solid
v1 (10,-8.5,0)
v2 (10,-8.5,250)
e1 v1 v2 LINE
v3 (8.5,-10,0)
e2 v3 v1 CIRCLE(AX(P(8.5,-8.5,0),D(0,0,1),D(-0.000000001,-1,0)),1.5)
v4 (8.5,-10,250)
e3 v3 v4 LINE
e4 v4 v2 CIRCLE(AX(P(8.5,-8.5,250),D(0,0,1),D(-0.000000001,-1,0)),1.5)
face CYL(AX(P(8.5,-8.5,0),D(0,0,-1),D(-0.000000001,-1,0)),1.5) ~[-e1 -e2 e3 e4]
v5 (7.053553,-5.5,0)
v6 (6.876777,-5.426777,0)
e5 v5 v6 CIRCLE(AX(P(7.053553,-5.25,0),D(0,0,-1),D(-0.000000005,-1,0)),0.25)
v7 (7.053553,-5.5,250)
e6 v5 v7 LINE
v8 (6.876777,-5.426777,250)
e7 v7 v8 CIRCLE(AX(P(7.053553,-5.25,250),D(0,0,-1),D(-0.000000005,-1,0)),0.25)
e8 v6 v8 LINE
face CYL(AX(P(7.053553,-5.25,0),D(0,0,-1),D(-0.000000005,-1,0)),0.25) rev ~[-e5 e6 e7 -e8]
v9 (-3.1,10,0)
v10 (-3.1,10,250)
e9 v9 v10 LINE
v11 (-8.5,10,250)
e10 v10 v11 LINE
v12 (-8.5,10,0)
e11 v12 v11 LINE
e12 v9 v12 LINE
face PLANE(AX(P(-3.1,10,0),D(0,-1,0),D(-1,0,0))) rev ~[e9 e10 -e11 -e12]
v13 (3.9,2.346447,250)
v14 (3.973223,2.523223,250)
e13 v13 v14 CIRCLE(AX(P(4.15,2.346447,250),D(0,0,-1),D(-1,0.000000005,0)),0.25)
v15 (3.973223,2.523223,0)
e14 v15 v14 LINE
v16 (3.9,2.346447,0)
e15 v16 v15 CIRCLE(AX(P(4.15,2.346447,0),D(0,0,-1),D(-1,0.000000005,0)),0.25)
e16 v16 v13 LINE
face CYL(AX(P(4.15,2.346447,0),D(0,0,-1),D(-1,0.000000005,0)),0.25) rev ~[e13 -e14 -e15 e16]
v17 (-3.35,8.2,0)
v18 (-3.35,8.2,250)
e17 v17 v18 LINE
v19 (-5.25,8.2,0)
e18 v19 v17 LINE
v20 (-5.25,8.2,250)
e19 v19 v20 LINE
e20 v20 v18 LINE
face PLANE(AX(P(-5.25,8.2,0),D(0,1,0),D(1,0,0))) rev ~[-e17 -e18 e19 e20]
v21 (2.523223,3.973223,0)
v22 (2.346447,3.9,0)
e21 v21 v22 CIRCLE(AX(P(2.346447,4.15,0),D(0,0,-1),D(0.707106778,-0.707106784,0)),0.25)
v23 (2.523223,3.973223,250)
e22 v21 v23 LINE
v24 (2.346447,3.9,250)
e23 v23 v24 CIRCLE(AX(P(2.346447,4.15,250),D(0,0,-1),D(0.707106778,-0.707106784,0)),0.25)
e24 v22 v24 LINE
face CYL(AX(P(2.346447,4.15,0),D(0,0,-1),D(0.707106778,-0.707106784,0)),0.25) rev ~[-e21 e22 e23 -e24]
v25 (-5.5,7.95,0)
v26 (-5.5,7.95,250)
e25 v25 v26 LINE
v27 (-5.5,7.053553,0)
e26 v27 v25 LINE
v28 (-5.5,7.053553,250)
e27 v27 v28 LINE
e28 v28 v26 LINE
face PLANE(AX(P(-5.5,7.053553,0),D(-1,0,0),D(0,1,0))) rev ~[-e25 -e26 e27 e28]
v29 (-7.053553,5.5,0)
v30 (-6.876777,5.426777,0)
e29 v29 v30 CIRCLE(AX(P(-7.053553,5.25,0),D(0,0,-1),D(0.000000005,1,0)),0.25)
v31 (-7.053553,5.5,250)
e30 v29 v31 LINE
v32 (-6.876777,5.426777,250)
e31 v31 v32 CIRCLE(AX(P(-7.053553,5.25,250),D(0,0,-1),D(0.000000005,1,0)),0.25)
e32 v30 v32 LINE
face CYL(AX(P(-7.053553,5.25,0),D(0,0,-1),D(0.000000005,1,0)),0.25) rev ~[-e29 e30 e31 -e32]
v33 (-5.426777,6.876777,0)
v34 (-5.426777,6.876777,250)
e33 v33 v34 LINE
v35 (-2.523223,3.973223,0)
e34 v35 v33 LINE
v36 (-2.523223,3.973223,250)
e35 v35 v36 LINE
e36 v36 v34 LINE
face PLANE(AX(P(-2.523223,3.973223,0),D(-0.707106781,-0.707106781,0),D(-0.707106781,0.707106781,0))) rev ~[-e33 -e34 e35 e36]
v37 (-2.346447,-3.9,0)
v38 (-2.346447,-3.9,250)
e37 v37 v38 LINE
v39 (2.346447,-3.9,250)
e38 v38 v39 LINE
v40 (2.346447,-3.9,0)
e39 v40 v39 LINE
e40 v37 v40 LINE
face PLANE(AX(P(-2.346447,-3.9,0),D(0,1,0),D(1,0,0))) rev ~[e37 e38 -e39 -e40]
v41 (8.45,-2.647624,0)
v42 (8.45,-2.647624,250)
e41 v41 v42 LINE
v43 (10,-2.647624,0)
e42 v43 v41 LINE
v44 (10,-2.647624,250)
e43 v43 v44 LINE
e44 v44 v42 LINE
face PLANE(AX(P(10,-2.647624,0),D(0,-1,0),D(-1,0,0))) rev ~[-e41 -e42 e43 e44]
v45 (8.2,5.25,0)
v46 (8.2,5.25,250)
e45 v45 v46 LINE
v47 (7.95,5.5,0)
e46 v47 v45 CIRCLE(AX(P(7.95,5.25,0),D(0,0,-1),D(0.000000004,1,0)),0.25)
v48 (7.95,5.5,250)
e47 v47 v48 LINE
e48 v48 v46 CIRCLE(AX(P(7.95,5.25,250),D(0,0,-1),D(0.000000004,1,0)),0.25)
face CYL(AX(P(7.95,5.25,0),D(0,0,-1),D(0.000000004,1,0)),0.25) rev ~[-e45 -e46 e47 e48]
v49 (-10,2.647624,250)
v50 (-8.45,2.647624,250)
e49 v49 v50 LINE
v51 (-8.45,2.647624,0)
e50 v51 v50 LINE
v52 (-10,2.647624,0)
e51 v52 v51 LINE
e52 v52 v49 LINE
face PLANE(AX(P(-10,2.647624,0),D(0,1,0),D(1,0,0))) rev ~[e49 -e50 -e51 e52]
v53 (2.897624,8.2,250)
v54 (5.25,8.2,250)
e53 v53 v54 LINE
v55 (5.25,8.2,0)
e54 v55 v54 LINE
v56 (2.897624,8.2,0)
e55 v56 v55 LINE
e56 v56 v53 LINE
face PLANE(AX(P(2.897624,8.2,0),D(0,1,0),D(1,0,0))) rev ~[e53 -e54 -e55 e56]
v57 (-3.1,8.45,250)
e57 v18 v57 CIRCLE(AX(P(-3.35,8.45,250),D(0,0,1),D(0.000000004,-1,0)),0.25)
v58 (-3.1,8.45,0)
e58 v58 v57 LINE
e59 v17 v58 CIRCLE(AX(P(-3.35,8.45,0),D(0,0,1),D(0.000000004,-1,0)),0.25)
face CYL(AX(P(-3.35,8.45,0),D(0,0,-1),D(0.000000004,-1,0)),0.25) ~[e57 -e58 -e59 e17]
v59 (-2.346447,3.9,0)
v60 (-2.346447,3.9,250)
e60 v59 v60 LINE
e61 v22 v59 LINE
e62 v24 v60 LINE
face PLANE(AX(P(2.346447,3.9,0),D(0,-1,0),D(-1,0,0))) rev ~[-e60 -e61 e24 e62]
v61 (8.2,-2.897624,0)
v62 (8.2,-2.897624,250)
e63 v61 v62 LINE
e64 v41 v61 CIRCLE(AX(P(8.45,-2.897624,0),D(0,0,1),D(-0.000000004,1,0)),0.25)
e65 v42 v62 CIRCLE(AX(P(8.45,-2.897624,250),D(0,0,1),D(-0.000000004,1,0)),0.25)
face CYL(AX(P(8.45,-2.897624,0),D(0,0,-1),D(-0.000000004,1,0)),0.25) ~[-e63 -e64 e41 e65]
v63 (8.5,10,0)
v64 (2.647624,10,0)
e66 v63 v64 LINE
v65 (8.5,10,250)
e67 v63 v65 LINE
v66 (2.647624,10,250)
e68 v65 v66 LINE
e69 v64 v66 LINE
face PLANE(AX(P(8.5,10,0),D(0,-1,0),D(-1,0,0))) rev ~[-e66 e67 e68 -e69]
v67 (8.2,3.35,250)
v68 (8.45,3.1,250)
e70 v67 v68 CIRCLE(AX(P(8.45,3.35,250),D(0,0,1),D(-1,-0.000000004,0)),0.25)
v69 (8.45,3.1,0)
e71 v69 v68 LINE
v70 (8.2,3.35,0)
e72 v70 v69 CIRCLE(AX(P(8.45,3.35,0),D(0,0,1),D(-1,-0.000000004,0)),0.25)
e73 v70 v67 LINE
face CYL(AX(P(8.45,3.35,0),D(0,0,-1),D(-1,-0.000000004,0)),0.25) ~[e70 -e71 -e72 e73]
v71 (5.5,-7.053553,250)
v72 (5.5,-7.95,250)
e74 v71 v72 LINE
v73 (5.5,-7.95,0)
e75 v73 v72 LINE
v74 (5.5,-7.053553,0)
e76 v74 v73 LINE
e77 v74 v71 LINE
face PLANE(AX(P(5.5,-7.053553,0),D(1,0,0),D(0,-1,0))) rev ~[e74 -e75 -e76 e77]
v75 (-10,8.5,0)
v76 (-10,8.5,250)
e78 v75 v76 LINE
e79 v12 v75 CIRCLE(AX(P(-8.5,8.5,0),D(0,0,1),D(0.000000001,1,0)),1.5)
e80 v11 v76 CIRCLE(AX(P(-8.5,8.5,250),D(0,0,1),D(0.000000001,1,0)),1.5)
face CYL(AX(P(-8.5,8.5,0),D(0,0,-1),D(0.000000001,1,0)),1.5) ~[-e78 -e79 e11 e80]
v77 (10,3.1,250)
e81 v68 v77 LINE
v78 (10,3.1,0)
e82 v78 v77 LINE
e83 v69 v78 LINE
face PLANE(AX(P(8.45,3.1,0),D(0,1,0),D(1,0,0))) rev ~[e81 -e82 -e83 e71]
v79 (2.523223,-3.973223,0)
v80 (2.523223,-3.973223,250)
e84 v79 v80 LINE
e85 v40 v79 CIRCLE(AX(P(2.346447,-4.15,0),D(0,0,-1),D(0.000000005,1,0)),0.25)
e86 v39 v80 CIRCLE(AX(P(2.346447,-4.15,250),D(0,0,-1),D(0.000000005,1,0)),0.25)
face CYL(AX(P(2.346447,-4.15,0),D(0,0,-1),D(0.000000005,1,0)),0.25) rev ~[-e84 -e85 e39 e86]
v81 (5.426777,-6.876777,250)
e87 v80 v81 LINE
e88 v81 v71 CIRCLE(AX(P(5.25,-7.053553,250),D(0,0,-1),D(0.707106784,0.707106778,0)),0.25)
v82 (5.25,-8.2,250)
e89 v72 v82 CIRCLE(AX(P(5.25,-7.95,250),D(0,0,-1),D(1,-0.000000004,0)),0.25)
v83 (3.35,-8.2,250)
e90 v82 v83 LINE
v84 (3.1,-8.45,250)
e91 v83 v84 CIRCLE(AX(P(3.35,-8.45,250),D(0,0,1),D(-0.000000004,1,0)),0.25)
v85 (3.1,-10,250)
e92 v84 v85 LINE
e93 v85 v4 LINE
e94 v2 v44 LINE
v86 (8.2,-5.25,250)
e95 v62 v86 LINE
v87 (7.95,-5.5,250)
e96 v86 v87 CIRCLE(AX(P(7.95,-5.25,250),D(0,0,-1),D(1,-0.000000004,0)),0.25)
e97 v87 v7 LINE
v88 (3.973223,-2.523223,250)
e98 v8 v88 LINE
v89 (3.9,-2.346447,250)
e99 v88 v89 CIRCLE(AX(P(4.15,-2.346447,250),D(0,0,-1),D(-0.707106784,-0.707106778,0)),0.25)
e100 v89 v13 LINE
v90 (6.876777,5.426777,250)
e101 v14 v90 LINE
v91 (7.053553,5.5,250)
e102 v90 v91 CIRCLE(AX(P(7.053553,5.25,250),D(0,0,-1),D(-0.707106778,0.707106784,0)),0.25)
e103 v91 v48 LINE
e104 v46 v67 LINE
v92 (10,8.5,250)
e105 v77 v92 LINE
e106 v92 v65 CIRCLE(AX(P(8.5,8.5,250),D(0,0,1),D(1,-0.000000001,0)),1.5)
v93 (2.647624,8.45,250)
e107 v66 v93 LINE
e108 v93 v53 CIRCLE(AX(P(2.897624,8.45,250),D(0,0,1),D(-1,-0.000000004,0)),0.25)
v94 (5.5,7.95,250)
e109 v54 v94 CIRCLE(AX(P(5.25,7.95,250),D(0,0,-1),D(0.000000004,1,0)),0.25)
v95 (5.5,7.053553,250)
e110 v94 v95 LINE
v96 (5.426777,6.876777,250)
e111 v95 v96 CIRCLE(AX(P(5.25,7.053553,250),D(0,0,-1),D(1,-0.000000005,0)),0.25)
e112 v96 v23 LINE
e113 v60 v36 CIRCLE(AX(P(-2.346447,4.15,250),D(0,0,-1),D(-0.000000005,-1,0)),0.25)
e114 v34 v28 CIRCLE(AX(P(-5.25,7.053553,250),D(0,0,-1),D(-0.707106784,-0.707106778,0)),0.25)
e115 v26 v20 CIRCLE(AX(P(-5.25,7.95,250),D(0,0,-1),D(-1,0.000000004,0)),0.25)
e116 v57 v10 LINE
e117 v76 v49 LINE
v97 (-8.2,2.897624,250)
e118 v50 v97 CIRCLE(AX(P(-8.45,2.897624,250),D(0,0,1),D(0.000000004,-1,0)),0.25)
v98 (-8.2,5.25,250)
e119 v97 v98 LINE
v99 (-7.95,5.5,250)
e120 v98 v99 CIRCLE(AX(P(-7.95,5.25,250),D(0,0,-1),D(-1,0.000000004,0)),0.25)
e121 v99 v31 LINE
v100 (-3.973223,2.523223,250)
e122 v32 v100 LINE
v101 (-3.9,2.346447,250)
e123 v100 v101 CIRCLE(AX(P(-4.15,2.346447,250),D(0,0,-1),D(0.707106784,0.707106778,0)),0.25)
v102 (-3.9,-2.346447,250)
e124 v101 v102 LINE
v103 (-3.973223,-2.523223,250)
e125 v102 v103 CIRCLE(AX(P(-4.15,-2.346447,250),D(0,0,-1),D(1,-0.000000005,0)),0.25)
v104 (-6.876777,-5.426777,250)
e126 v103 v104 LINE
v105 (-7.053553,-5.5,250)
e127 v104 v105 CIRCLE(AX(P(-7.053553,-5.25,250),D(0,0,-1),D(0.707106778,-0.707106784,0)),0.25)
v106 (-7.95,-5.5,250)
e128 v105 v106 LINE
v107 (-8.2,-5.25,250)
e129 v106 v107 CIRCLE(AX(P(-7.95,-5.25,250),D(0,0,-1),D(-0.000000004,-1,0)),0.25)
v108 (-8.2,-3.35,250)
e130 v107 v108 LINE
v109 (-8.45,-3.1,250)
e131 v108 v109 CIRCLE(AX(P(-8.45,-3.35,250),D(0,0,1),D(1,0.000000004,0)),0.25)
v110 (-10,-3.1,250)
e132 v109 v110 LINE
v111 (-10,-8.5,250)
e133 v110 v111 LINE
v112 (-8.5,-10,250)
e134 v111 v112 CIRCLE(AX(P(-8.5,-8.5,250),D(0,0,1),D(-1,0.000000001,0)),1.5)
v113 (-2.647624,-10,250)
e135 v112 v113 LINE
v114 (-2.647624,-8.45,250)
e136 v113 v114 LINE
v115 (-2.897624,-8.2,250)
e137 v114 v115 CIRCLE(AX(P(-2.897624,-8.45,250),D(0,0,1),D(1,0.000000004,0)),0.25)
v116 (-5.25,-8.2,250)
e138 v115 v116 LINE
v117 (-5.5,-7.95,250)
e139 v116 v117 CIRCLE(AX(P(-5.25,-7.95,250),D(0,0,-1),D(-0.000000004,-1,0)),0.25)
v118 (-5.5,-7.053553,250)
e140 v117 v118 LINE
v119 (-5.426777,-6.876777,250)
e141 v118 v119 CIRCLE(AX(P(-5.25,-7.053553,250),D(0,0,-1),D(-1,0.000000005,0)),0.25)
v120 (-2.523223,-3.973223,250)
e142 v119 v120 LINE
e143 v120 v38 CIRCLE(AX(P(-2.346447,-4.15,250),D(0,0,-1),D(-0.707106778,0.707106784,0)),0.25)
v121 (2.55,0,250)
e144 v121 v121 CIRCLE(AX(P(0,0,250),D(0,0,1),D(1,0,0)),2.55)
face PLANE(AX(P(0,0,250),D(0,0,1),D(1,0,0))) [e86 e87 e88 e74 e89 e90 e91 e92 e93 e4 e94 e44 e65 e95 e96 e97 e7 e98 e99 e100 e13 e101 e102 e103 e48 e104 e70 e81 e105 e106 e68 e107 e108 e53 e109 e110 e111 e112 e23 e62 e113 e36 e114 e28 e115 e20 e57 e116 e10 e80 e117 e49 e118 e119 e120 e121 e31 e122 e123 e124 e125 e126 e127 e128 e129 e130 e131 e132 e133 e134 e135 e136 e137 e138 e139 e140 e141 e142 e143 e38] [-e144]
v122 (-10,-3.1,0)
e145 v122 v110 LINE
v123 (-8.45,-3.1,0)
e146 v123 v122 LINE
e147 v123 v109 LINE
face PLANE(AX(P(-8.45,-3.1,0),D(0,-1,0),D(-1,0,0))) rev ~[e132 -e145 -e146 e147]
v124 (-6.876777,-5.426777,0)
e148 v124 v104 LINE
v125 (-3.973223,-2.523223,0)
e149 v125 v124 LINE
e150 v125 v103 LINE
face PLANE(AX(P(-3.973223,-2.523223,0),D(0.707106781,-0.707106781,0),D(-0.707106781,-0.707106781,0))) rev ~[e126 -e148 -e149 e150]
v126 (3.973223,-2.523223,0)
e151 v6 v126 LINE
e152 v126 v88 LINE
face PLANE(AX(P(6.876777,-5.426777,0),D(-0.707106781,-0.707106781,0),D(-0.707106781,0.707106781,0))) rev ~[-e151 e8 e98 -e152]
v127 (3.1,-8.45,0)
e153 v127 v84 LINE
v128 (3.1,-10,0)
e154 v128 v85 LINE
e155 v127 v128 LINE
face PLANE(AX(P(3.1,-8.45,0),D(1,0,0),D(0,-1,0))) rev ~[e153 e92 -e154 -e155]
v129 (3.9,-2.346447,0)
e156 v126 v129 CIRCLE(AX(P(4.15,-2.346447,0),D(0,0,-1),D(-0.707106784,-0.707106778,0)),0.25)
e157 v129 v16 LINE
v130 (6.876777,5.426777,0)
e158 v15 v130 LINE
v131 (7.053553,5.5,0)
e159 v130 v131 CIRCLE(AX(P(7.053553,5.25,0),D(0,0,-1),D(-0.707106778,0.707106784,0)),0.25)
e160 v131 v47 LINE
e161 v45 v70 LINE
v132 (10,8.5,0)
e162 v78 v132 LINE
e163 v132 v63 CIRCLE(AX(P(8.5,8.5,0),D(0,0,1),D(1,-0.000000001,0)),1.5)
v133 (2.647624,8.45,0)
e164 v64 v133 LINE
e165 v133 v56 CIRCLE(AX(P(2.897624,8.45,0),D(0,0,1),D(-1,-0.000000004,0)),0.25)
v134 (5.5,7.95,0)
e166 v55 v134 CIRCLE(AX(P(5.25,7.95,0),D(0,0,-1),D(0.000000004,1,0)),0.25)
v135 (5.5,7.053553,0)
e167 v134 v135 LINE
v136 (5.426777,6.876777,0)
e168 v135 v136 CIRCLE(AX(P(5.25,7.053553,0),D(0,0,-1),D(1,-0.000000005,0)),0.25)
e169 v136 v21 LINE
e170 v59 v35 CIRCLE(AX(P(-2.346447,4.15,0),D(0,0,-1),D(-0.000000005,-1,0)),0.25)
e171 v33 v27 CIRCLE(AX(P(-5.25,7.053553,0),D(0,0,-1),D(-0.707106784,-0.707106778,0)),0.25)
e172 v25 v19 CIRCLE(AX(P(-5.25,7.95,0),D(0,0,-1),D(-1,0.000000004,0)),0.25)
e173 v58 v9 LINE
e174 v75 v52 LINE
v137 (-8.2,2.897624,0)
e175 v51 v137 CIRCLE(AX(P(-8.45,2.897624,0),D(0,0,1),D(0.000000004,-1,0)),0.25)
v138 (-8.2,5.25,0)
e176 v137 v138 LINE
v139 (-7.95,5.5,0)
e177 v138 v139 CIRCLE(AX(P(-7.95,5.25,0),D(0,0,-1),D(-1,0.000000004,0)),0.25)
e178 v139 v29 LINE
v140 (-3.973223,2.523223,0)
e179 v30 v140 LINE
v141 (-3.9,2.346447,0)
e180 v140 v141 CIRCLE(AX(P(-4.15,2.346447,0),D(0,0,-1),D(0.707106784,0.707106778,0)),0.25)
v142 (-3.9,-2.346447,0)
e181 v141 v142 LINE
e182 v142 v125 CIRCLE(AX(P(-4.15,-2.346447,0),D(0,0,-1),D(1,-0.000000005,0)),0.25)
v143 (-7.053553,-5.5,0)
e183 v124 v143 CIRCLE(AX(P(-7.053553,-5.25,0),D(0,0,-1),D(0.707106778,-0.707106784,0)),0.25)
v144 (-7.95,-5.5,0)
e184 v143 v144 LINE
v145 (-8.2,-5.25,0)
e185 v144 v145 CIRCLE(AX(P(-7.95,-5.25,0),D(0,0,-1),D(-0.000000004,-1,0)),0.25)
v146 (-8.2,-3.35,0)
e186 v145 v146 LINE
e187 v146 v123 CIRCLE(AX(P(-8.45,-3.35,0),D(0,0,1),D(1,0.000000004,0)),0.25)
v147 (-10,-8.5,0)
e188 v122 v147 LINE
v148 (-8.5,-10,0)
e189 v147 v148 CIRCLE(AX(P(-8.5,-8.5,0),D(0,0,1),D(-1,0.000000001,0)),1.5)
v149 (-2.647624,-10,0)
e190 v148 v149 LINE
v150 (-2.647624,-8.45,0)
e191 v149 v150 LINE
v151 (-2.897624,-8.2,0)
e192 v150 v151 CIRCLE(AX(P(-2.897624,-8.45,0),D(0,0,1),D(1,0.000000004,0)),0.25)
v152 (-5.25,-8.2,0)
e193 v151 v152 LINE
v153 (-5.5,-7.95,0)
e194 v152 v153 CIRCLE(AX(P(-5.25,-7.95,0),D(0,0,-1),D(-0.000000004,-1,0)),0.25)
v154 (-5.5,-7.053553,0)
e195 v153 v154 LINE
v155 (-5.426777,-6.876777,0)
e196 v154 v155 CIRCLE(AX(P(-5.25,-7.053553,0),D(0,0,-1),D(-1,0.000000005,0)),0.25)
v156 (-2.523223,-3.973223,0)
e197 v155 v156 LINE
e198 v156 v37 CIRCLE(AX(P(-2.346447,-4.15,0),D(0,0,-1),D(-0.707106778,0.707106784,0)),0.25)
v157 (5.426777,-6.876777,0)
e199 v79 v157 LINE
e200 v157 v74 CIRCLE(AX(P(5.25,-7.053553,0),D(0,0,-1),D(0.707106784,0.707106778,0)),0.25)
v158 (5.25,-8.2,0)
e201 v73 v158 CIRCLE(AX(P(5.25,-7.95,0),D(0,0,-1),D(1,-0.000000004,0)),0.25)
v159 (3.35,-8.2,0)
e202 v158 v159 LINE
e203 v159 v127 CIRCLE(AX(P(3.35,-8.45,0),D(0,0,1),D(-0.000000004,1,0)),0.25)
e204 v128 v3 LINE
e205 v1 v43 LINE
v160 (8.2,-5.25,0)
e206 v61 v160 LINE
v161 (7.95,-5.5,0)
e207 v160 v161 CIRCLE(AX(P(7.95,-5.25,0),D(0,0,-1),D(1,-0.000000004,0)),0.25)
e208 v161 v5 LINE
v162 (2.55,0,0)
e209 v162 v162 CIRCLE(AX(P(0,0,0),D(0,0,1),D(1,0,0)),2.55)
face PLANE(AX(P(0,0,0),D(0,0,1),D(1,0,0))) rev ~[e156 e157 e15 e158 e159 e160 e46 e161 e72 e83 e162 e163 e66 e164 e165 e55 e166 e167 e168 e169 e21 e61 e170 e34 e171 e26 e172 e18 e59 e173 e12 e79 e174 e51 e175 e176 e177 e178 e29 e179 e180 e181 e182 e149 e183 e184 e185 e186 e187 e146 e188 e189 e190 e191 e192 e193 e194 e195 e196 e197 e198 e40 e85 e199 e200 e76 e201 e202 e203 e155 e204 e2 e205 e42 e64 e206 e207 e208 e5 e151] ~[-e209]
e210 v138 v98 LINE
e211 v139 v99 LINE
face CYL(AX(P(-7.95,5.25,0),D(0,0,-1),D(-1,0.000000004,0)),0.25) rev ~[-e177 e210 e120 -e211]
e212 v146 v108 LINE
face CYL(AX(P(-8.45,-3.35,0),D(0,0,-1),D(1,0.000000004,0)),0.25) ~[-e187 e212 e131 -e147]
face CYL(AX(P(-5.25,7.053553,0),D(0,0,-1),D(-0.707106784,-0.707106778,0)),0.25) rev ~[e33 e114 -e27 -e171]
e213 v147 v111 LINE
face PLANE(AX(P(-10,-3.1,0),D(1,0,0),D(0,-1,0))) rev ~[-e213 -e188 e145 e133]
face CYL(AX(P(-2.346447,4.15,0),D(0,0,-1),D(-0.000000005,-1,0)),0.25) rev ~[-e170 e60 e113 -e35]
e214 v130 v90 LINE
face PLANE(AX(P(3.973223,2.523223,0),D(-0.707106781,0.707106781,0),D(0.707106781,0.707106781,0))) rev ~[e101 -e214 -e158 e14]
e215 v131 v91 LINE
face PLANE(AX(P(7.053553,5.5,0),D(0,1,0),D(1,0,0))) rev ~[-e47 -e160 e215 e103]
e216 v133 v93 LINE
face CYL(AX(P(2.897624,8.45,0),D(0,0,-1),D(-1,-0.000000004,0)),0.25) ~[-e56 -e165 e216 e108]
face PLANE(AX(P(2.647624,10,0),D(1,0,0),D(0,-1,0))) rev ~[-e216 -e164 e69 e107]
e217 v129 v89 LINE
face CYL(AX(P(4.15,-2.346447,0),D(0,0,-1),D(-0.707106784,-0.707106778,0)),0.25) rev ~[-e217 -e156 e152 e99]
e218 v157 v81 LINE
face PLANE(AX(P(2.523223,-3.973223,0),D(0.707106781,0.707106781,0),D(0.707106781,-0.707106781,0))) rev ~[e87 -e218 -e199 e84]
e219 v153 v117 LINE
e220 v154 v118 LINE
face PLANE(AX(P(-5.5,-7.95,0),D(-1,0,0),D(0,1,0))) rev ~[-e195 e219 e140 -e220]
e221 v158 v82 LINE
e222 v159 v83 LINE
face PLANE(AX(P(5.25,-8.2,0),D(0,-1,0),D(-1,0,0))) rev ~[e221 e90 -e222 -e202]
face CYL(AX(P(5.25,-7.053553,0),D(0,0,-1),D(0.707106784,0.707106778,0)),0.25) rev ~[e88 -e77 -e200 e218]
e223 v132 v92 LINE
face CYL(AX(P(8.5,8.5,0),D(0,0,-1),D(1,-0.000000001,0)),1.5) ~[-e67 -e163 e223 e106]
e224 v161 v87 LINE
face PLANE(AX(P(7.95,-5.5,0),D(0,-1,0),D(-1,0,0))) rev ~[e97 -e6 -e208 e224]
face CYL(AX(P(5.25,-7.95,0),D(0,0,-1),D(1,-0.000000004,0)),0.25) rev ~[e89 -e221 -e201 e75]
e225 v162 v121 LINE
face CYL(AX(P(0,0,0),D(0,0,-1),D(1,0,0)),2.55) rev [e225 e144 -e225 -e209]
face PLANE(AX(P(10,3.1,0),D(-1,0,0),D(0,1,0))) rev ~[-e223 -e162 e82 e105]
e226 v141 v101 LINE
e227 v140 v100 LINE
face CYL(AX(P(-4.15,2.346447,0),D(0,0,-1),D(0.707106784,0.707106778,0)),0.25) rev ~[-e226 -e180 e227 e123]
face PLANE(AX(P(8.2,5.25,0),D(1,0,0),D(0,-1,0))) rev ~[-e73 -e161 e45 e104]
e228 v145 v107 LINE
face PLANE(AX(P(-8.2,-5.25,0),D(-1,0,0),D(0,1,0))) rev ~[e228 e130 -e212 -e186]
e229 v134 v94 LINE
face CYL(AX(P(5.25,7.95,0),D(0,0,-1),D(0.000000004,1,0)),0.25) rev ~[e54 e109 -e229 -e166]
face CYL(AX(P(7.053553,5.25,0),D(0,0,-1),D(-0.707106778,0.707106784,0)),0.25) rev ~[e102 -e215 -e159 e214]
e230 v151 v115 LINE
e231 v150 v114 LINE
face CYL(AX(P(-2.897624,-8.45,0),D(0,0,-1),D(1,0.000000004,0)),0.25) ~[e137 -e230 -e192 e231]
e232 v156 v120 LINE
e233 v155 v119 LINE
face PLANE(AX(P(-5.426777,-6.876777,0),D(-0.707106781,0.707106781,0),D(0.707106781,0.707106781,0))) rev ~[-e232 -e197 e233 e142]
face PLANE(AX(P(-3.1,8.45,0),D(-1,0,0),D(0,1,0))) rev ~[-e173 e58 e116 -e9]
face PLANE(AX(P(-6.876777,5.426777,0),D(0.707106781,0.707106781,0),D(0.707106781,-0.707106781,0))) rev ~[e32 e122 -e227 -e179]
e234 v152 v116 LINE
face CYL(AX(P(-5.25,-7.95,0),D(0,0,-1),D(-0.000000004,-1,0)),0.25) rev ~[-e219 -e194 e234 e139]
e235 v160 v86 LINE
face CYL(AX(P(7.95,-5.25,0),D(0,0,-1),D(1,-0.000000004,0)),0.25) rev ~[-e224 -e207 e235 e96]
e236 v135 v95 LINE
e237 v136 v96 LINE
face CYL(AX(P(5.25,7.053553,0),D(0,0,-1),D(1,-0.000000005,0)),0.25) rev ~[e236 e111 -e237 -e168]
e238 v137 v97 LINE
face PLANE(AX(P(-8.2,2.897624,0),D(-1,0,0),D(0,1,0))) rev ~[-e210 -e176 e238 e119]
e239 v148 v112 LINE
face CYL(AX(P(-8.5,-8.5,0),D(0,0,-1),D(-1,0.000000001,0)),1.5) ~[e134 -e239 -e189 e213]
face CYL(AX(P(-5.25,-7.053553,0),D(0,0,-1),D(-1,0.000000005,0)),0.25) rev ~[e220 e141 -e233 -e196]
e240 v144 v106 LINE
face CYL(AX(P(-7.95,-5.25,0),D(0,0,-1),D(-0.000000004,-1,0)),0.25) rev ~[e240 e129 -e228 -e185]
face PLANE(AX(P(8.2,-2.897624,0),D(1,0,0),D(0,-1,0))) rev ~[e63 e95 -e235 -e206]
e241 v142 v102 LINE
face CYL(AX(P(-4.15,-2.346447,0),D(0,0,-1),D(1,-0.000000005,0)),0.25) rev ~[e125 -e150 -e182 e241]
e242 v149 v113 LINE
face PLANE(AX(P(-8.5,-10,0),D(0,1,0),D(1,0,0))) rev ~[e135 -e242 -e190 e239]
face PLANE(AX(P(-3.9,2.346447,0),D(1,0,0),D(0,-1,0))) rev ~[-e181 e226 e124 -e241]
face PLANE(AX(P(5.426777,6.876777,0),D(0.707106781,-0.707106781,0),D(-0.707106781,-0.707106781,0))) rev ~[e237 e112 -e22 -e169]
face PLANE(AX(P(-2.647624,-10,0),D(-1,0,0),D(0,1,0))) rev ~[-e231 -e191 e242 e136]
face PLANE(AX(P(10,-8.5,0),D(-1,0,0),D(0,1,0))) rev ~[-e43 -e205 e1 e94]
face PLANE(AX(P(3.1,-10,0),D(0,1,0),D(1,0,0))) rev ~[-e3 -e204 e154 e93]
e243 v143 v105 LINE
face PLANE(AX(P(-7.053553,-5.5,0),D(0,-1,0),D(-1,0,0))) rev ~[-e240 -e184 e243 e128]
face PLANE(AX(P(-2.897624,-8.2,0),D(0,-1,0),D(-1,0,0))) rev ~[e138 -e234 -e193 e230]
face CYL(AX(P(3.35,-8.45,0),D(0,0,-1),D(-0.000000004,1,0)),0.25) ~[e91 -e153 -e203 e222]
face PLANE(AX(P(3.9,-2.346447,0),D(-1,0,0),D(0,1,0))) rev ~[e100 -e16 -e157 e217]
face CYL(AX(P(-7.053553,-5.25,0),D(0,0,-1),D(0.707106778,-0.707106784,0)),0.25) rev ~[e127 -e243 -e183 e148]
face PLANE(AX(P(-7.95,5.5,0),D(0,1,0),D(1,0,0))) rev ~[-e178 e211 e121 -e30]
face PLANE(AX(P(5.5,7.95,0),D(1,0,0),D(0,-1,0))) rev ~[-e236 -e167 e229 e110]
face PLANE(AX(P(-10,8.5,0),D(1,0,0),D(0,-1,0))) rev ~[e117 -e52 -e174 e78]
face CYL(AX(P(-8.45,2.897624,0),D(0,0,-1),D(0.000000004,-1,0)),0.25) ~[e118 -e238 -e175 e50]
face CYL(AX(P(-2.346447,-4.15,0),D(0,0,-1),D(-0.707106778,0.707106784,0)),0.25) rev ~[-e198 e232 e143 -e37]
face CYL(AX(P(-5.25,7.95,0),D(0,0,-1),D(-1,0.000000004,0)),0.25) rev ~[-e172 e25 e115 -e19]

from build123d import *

# Parameters (mm, degrees)
SKETCH1_R           = 2.55
BOSS_EXTRUDE1_DEPTH = 250


with BuildPart() as part:
    # Sketch1 → Boss-Extrude1 (new body)
    with BuildSketch(Plane.XY):
        with BuildLine():
            Line((-8.5, -10), (-2.647623804, -10))
            Line((-2.647623804, -10), (-2.647623804, -8.45))
            ThreePointArc((-2.647623804, -8.45), (-2.720847109, -8.273223305), (-2.897623804, -8.2))
            Line((-2.897623804, -8.2), (-5.25, -8.2))
            ThreePointArc((-5.25, -8.2), (-5.426776695, -8.126776695), (-5.5, -7.95))
            Line((-5.5, -7.95), (-5.5, -7.053553391))
            ThreePointArc((-5.5, -7.053553391), (-5.480969883, -6.957882533), (-5.426776695, -6.876776695))
            Line((-5.426776695, -6.876776695), (-2.523223305, -3.973223305))
            ThreePointArc((-2.523223305, -3.973223305), (-2.442117467, -3.919030117), (-2.346446609, -3.9))
            Line((-2.346446609, -3.9), (2.346446609, -3.9))
            ThreePointArc((2.346446609, -3.9), (2.442117467, -3.919030117), (2.523223305, -3.973223305))
            Line((2.523223305, -3.973223305), (5.426776695, -6.876776695))
            ThreePointArc((5.426776695, -6.876776695), (5.480969883, -6.957882533), (5.5, -7.053553391))
            Line((5.5, -7.053553391), (5.5, -7.95))
            ThreePointArc((5.5, -7.95), (5.426776695, -8.126776695), (5.25, -8.2))
            Line((5.25, -8.2), (3.35, -8.2))
            ThreePointArc((3.35, -8.2), (3.173223305, -8.273223305), (3.1, -8.45))
            Line((3.1, -8.45), (3.1, -10))
            Line((3.1, -10), (8.5, -10))
            ThreePointArc((8.5, -10), (9.560660172, -9.560660172), (10, -8.5))
            Line((10, -8.5), (10, -2.647623804))
            Line((10, -2.647623804), (8.45, -2.647623804))
            ThreePointArc((8.45, -2.647623804), (8.273223305, -2.720847109), (8.2, -2.897623804))
            Line((8.2, -2.897623804), (8.2, -5.25))
            ThreePointArc((8.2, -5.25), (8.126776695, -5.426776695), (7.95, -5.5))
            Line((7.95, -5.5), (7.053553391, -5.5))
            ThreePointArc((7.053553391, -5.5), (6.957882533, -5.480969883), (6.876776695, -5.426776695))
            Line((6.876776695, -5.426776695), (3.973223305, -2.523223305))
            ThreePointArc((3.973223305, -2.523223305), (3.919030117, -2.442117467), (3.9, -2.346446609))
            Line((3.9, -2.346446609), (3.9, 2.346446609))
            ThreePointArc((3.9, 2.346446609), (3.919030117, 2.442117467), (3.973223305, 2.523223305))
            Line((3.973223305, 2.523223305), (6.876776695, 5.426776695))
            ThreePointArc((6.876776695, 5.426776695), (6.957882533, 5.480969883), (7.053553391, 5.5))
            Line((7.053553391, 5.5), (7.95, 5.5))
            ThreePointArc((7.95, 5.5), (8.126776695, 5.426776695), (8.2, 5.25))
            Line((8.2, 5.25), (8.2, 3.35))
            ThreePointArc((8.2, 3.35), (8.273223305, 3.173223305), (8.45, 3.1))
            Line((8.45, 3.1), (10, 3.1))
            Line((10, 3.1), (10, 8.5))
            ThreePointArc((10, 8.5), (9.560660172, 9.560660172), (8.5, 10))
            Line((8.5, 10), (2.647623804, 10))
            Line((2.647623804, 10), (2.647623804, 8.45))
            ThreePointArc((2.647623804, 8.45), (2.720847109, 8.273223305), (2.897623804, 8.2))
            Line((2.897623804, 8.2), (5.25, 8.2))
            ThreePointArc((5.25, 8.2), (5.426776695, 8.126776695), (5.5, 7.95))
            Line((5.5, 7.95), (5.5, 7.053553391))
            ThreePointArc((5.5, 7.053553391), (5.480969883, 6.957882533), (5.426776695, 6.876776695))
            Line((5.426776695, 6.876776695), (2.523223305, 3.973223305))
            ThreePointArc((2.523223305, 3.973223305), (2.442117467, 3.919030117), (2.346446609, 3.9))
            Line((2.346446609, 3.9), (-2.346446609, 3.9))
            ThreePointArc((-2.346446609, 3.9), (-2.442117467, 3.919030117), (-2.523223305, 3.973223305))
            Line((-2.523223305, 3.973223305), (-5.426776695, 6.876776695))
            ThreePointArc((-5.426776695, 6.876776695), (-5.480969883, 6.957882533), (-5.5, 7.053553391))
            Line((-5.5, 7.053553391), (-5.5, 7.95))
            ThreePointArc((-5.5, 7.95), (-5.426776695, 8.126776695), (-5.25, 8.2))
            Line((-5.25, 8.2), (-3.35, 8.2))
            ThreePointArc((-3.35, 8.2), (-3.173223305, 8.273223305), (-3.1, 8.45))
            Line((-3.1, 8.45), (-3.1, 10))
            Line((-3.1, 10), (-8.5, 10))
            ThreePointArc((-8.5, 10), (-9.560660172, 9.560660172), (-10, 8.5))
            Line((-10, 8.5), (-10, 2.647623804))
            Line((-10, 2.647623804), (-8.45, 2.647623804))
            ThreePointArc((-8.45, 2.647623804), (-8.273223305, 2.720847109), (-8.2, 2.897623804))
            Line((-8.2, 2.897623804), (-8.2, 5.25))
            ThreePointArc((-8.2, 5.25), (-8.126776695, 5.426776695), (-7.95, 5.5))
            Line((-7.95, 5.5), (-7.053553391, 5.5))
            ThreePointArc((-7.053553391, 5.5), (-6.957882533, 5.480969883), (-6.876776695, 5.426776695))
            Line((-6.876776695, 5.426776695), (-3.973223305, 2.523223305))
            ThreePointArc((-3.973223305, 2.523223305), (-3.919030117, 2.442117467), (-3.9, 2.346446609))
            Line((-3.9, 2.346446609), (-3.9, -2.346446609))
            ThreePointArc((-3.9, -2.346446609), (-3.919030117, -2.442117467), (-3.973223305, -2.523223305))
            Line((-3.973223305, -2.523223305), (-6.876776695, -5.426776695))
            ThreePointArc((-6.876776695, -5.426776695), (-6.957882533, -5.480969883), (-7.053553391, -5.5))
            Line((-7.053553391, -5.5), (-7.95, -5.5))
            ThreePointArc((-7.95, -5.5), (-8.126776695, -5.426776695), (-8.2, -5.25))
            Line((-8.2, -5.25), (-8.2, -3.35))
            ThreePointArc((-8.2, -3.35), (-8.273223305, -3.173223305), (-8.45, -3.1))
            Line((-8.45, -3.1), (-10, -3.1))
            Line((-10, -3.1), (-10, -8.5))
            ThreePointArc((-10, -8.5), (-9.560660172, -9.560660172), (-8.5, -10))
        make_face()
        Circle(SKETCH1_R, mode=Mode.SUBTRACT)
    extrude(amount=BOSS_EXTRUDE1_DEPTH)


solid = part.part
